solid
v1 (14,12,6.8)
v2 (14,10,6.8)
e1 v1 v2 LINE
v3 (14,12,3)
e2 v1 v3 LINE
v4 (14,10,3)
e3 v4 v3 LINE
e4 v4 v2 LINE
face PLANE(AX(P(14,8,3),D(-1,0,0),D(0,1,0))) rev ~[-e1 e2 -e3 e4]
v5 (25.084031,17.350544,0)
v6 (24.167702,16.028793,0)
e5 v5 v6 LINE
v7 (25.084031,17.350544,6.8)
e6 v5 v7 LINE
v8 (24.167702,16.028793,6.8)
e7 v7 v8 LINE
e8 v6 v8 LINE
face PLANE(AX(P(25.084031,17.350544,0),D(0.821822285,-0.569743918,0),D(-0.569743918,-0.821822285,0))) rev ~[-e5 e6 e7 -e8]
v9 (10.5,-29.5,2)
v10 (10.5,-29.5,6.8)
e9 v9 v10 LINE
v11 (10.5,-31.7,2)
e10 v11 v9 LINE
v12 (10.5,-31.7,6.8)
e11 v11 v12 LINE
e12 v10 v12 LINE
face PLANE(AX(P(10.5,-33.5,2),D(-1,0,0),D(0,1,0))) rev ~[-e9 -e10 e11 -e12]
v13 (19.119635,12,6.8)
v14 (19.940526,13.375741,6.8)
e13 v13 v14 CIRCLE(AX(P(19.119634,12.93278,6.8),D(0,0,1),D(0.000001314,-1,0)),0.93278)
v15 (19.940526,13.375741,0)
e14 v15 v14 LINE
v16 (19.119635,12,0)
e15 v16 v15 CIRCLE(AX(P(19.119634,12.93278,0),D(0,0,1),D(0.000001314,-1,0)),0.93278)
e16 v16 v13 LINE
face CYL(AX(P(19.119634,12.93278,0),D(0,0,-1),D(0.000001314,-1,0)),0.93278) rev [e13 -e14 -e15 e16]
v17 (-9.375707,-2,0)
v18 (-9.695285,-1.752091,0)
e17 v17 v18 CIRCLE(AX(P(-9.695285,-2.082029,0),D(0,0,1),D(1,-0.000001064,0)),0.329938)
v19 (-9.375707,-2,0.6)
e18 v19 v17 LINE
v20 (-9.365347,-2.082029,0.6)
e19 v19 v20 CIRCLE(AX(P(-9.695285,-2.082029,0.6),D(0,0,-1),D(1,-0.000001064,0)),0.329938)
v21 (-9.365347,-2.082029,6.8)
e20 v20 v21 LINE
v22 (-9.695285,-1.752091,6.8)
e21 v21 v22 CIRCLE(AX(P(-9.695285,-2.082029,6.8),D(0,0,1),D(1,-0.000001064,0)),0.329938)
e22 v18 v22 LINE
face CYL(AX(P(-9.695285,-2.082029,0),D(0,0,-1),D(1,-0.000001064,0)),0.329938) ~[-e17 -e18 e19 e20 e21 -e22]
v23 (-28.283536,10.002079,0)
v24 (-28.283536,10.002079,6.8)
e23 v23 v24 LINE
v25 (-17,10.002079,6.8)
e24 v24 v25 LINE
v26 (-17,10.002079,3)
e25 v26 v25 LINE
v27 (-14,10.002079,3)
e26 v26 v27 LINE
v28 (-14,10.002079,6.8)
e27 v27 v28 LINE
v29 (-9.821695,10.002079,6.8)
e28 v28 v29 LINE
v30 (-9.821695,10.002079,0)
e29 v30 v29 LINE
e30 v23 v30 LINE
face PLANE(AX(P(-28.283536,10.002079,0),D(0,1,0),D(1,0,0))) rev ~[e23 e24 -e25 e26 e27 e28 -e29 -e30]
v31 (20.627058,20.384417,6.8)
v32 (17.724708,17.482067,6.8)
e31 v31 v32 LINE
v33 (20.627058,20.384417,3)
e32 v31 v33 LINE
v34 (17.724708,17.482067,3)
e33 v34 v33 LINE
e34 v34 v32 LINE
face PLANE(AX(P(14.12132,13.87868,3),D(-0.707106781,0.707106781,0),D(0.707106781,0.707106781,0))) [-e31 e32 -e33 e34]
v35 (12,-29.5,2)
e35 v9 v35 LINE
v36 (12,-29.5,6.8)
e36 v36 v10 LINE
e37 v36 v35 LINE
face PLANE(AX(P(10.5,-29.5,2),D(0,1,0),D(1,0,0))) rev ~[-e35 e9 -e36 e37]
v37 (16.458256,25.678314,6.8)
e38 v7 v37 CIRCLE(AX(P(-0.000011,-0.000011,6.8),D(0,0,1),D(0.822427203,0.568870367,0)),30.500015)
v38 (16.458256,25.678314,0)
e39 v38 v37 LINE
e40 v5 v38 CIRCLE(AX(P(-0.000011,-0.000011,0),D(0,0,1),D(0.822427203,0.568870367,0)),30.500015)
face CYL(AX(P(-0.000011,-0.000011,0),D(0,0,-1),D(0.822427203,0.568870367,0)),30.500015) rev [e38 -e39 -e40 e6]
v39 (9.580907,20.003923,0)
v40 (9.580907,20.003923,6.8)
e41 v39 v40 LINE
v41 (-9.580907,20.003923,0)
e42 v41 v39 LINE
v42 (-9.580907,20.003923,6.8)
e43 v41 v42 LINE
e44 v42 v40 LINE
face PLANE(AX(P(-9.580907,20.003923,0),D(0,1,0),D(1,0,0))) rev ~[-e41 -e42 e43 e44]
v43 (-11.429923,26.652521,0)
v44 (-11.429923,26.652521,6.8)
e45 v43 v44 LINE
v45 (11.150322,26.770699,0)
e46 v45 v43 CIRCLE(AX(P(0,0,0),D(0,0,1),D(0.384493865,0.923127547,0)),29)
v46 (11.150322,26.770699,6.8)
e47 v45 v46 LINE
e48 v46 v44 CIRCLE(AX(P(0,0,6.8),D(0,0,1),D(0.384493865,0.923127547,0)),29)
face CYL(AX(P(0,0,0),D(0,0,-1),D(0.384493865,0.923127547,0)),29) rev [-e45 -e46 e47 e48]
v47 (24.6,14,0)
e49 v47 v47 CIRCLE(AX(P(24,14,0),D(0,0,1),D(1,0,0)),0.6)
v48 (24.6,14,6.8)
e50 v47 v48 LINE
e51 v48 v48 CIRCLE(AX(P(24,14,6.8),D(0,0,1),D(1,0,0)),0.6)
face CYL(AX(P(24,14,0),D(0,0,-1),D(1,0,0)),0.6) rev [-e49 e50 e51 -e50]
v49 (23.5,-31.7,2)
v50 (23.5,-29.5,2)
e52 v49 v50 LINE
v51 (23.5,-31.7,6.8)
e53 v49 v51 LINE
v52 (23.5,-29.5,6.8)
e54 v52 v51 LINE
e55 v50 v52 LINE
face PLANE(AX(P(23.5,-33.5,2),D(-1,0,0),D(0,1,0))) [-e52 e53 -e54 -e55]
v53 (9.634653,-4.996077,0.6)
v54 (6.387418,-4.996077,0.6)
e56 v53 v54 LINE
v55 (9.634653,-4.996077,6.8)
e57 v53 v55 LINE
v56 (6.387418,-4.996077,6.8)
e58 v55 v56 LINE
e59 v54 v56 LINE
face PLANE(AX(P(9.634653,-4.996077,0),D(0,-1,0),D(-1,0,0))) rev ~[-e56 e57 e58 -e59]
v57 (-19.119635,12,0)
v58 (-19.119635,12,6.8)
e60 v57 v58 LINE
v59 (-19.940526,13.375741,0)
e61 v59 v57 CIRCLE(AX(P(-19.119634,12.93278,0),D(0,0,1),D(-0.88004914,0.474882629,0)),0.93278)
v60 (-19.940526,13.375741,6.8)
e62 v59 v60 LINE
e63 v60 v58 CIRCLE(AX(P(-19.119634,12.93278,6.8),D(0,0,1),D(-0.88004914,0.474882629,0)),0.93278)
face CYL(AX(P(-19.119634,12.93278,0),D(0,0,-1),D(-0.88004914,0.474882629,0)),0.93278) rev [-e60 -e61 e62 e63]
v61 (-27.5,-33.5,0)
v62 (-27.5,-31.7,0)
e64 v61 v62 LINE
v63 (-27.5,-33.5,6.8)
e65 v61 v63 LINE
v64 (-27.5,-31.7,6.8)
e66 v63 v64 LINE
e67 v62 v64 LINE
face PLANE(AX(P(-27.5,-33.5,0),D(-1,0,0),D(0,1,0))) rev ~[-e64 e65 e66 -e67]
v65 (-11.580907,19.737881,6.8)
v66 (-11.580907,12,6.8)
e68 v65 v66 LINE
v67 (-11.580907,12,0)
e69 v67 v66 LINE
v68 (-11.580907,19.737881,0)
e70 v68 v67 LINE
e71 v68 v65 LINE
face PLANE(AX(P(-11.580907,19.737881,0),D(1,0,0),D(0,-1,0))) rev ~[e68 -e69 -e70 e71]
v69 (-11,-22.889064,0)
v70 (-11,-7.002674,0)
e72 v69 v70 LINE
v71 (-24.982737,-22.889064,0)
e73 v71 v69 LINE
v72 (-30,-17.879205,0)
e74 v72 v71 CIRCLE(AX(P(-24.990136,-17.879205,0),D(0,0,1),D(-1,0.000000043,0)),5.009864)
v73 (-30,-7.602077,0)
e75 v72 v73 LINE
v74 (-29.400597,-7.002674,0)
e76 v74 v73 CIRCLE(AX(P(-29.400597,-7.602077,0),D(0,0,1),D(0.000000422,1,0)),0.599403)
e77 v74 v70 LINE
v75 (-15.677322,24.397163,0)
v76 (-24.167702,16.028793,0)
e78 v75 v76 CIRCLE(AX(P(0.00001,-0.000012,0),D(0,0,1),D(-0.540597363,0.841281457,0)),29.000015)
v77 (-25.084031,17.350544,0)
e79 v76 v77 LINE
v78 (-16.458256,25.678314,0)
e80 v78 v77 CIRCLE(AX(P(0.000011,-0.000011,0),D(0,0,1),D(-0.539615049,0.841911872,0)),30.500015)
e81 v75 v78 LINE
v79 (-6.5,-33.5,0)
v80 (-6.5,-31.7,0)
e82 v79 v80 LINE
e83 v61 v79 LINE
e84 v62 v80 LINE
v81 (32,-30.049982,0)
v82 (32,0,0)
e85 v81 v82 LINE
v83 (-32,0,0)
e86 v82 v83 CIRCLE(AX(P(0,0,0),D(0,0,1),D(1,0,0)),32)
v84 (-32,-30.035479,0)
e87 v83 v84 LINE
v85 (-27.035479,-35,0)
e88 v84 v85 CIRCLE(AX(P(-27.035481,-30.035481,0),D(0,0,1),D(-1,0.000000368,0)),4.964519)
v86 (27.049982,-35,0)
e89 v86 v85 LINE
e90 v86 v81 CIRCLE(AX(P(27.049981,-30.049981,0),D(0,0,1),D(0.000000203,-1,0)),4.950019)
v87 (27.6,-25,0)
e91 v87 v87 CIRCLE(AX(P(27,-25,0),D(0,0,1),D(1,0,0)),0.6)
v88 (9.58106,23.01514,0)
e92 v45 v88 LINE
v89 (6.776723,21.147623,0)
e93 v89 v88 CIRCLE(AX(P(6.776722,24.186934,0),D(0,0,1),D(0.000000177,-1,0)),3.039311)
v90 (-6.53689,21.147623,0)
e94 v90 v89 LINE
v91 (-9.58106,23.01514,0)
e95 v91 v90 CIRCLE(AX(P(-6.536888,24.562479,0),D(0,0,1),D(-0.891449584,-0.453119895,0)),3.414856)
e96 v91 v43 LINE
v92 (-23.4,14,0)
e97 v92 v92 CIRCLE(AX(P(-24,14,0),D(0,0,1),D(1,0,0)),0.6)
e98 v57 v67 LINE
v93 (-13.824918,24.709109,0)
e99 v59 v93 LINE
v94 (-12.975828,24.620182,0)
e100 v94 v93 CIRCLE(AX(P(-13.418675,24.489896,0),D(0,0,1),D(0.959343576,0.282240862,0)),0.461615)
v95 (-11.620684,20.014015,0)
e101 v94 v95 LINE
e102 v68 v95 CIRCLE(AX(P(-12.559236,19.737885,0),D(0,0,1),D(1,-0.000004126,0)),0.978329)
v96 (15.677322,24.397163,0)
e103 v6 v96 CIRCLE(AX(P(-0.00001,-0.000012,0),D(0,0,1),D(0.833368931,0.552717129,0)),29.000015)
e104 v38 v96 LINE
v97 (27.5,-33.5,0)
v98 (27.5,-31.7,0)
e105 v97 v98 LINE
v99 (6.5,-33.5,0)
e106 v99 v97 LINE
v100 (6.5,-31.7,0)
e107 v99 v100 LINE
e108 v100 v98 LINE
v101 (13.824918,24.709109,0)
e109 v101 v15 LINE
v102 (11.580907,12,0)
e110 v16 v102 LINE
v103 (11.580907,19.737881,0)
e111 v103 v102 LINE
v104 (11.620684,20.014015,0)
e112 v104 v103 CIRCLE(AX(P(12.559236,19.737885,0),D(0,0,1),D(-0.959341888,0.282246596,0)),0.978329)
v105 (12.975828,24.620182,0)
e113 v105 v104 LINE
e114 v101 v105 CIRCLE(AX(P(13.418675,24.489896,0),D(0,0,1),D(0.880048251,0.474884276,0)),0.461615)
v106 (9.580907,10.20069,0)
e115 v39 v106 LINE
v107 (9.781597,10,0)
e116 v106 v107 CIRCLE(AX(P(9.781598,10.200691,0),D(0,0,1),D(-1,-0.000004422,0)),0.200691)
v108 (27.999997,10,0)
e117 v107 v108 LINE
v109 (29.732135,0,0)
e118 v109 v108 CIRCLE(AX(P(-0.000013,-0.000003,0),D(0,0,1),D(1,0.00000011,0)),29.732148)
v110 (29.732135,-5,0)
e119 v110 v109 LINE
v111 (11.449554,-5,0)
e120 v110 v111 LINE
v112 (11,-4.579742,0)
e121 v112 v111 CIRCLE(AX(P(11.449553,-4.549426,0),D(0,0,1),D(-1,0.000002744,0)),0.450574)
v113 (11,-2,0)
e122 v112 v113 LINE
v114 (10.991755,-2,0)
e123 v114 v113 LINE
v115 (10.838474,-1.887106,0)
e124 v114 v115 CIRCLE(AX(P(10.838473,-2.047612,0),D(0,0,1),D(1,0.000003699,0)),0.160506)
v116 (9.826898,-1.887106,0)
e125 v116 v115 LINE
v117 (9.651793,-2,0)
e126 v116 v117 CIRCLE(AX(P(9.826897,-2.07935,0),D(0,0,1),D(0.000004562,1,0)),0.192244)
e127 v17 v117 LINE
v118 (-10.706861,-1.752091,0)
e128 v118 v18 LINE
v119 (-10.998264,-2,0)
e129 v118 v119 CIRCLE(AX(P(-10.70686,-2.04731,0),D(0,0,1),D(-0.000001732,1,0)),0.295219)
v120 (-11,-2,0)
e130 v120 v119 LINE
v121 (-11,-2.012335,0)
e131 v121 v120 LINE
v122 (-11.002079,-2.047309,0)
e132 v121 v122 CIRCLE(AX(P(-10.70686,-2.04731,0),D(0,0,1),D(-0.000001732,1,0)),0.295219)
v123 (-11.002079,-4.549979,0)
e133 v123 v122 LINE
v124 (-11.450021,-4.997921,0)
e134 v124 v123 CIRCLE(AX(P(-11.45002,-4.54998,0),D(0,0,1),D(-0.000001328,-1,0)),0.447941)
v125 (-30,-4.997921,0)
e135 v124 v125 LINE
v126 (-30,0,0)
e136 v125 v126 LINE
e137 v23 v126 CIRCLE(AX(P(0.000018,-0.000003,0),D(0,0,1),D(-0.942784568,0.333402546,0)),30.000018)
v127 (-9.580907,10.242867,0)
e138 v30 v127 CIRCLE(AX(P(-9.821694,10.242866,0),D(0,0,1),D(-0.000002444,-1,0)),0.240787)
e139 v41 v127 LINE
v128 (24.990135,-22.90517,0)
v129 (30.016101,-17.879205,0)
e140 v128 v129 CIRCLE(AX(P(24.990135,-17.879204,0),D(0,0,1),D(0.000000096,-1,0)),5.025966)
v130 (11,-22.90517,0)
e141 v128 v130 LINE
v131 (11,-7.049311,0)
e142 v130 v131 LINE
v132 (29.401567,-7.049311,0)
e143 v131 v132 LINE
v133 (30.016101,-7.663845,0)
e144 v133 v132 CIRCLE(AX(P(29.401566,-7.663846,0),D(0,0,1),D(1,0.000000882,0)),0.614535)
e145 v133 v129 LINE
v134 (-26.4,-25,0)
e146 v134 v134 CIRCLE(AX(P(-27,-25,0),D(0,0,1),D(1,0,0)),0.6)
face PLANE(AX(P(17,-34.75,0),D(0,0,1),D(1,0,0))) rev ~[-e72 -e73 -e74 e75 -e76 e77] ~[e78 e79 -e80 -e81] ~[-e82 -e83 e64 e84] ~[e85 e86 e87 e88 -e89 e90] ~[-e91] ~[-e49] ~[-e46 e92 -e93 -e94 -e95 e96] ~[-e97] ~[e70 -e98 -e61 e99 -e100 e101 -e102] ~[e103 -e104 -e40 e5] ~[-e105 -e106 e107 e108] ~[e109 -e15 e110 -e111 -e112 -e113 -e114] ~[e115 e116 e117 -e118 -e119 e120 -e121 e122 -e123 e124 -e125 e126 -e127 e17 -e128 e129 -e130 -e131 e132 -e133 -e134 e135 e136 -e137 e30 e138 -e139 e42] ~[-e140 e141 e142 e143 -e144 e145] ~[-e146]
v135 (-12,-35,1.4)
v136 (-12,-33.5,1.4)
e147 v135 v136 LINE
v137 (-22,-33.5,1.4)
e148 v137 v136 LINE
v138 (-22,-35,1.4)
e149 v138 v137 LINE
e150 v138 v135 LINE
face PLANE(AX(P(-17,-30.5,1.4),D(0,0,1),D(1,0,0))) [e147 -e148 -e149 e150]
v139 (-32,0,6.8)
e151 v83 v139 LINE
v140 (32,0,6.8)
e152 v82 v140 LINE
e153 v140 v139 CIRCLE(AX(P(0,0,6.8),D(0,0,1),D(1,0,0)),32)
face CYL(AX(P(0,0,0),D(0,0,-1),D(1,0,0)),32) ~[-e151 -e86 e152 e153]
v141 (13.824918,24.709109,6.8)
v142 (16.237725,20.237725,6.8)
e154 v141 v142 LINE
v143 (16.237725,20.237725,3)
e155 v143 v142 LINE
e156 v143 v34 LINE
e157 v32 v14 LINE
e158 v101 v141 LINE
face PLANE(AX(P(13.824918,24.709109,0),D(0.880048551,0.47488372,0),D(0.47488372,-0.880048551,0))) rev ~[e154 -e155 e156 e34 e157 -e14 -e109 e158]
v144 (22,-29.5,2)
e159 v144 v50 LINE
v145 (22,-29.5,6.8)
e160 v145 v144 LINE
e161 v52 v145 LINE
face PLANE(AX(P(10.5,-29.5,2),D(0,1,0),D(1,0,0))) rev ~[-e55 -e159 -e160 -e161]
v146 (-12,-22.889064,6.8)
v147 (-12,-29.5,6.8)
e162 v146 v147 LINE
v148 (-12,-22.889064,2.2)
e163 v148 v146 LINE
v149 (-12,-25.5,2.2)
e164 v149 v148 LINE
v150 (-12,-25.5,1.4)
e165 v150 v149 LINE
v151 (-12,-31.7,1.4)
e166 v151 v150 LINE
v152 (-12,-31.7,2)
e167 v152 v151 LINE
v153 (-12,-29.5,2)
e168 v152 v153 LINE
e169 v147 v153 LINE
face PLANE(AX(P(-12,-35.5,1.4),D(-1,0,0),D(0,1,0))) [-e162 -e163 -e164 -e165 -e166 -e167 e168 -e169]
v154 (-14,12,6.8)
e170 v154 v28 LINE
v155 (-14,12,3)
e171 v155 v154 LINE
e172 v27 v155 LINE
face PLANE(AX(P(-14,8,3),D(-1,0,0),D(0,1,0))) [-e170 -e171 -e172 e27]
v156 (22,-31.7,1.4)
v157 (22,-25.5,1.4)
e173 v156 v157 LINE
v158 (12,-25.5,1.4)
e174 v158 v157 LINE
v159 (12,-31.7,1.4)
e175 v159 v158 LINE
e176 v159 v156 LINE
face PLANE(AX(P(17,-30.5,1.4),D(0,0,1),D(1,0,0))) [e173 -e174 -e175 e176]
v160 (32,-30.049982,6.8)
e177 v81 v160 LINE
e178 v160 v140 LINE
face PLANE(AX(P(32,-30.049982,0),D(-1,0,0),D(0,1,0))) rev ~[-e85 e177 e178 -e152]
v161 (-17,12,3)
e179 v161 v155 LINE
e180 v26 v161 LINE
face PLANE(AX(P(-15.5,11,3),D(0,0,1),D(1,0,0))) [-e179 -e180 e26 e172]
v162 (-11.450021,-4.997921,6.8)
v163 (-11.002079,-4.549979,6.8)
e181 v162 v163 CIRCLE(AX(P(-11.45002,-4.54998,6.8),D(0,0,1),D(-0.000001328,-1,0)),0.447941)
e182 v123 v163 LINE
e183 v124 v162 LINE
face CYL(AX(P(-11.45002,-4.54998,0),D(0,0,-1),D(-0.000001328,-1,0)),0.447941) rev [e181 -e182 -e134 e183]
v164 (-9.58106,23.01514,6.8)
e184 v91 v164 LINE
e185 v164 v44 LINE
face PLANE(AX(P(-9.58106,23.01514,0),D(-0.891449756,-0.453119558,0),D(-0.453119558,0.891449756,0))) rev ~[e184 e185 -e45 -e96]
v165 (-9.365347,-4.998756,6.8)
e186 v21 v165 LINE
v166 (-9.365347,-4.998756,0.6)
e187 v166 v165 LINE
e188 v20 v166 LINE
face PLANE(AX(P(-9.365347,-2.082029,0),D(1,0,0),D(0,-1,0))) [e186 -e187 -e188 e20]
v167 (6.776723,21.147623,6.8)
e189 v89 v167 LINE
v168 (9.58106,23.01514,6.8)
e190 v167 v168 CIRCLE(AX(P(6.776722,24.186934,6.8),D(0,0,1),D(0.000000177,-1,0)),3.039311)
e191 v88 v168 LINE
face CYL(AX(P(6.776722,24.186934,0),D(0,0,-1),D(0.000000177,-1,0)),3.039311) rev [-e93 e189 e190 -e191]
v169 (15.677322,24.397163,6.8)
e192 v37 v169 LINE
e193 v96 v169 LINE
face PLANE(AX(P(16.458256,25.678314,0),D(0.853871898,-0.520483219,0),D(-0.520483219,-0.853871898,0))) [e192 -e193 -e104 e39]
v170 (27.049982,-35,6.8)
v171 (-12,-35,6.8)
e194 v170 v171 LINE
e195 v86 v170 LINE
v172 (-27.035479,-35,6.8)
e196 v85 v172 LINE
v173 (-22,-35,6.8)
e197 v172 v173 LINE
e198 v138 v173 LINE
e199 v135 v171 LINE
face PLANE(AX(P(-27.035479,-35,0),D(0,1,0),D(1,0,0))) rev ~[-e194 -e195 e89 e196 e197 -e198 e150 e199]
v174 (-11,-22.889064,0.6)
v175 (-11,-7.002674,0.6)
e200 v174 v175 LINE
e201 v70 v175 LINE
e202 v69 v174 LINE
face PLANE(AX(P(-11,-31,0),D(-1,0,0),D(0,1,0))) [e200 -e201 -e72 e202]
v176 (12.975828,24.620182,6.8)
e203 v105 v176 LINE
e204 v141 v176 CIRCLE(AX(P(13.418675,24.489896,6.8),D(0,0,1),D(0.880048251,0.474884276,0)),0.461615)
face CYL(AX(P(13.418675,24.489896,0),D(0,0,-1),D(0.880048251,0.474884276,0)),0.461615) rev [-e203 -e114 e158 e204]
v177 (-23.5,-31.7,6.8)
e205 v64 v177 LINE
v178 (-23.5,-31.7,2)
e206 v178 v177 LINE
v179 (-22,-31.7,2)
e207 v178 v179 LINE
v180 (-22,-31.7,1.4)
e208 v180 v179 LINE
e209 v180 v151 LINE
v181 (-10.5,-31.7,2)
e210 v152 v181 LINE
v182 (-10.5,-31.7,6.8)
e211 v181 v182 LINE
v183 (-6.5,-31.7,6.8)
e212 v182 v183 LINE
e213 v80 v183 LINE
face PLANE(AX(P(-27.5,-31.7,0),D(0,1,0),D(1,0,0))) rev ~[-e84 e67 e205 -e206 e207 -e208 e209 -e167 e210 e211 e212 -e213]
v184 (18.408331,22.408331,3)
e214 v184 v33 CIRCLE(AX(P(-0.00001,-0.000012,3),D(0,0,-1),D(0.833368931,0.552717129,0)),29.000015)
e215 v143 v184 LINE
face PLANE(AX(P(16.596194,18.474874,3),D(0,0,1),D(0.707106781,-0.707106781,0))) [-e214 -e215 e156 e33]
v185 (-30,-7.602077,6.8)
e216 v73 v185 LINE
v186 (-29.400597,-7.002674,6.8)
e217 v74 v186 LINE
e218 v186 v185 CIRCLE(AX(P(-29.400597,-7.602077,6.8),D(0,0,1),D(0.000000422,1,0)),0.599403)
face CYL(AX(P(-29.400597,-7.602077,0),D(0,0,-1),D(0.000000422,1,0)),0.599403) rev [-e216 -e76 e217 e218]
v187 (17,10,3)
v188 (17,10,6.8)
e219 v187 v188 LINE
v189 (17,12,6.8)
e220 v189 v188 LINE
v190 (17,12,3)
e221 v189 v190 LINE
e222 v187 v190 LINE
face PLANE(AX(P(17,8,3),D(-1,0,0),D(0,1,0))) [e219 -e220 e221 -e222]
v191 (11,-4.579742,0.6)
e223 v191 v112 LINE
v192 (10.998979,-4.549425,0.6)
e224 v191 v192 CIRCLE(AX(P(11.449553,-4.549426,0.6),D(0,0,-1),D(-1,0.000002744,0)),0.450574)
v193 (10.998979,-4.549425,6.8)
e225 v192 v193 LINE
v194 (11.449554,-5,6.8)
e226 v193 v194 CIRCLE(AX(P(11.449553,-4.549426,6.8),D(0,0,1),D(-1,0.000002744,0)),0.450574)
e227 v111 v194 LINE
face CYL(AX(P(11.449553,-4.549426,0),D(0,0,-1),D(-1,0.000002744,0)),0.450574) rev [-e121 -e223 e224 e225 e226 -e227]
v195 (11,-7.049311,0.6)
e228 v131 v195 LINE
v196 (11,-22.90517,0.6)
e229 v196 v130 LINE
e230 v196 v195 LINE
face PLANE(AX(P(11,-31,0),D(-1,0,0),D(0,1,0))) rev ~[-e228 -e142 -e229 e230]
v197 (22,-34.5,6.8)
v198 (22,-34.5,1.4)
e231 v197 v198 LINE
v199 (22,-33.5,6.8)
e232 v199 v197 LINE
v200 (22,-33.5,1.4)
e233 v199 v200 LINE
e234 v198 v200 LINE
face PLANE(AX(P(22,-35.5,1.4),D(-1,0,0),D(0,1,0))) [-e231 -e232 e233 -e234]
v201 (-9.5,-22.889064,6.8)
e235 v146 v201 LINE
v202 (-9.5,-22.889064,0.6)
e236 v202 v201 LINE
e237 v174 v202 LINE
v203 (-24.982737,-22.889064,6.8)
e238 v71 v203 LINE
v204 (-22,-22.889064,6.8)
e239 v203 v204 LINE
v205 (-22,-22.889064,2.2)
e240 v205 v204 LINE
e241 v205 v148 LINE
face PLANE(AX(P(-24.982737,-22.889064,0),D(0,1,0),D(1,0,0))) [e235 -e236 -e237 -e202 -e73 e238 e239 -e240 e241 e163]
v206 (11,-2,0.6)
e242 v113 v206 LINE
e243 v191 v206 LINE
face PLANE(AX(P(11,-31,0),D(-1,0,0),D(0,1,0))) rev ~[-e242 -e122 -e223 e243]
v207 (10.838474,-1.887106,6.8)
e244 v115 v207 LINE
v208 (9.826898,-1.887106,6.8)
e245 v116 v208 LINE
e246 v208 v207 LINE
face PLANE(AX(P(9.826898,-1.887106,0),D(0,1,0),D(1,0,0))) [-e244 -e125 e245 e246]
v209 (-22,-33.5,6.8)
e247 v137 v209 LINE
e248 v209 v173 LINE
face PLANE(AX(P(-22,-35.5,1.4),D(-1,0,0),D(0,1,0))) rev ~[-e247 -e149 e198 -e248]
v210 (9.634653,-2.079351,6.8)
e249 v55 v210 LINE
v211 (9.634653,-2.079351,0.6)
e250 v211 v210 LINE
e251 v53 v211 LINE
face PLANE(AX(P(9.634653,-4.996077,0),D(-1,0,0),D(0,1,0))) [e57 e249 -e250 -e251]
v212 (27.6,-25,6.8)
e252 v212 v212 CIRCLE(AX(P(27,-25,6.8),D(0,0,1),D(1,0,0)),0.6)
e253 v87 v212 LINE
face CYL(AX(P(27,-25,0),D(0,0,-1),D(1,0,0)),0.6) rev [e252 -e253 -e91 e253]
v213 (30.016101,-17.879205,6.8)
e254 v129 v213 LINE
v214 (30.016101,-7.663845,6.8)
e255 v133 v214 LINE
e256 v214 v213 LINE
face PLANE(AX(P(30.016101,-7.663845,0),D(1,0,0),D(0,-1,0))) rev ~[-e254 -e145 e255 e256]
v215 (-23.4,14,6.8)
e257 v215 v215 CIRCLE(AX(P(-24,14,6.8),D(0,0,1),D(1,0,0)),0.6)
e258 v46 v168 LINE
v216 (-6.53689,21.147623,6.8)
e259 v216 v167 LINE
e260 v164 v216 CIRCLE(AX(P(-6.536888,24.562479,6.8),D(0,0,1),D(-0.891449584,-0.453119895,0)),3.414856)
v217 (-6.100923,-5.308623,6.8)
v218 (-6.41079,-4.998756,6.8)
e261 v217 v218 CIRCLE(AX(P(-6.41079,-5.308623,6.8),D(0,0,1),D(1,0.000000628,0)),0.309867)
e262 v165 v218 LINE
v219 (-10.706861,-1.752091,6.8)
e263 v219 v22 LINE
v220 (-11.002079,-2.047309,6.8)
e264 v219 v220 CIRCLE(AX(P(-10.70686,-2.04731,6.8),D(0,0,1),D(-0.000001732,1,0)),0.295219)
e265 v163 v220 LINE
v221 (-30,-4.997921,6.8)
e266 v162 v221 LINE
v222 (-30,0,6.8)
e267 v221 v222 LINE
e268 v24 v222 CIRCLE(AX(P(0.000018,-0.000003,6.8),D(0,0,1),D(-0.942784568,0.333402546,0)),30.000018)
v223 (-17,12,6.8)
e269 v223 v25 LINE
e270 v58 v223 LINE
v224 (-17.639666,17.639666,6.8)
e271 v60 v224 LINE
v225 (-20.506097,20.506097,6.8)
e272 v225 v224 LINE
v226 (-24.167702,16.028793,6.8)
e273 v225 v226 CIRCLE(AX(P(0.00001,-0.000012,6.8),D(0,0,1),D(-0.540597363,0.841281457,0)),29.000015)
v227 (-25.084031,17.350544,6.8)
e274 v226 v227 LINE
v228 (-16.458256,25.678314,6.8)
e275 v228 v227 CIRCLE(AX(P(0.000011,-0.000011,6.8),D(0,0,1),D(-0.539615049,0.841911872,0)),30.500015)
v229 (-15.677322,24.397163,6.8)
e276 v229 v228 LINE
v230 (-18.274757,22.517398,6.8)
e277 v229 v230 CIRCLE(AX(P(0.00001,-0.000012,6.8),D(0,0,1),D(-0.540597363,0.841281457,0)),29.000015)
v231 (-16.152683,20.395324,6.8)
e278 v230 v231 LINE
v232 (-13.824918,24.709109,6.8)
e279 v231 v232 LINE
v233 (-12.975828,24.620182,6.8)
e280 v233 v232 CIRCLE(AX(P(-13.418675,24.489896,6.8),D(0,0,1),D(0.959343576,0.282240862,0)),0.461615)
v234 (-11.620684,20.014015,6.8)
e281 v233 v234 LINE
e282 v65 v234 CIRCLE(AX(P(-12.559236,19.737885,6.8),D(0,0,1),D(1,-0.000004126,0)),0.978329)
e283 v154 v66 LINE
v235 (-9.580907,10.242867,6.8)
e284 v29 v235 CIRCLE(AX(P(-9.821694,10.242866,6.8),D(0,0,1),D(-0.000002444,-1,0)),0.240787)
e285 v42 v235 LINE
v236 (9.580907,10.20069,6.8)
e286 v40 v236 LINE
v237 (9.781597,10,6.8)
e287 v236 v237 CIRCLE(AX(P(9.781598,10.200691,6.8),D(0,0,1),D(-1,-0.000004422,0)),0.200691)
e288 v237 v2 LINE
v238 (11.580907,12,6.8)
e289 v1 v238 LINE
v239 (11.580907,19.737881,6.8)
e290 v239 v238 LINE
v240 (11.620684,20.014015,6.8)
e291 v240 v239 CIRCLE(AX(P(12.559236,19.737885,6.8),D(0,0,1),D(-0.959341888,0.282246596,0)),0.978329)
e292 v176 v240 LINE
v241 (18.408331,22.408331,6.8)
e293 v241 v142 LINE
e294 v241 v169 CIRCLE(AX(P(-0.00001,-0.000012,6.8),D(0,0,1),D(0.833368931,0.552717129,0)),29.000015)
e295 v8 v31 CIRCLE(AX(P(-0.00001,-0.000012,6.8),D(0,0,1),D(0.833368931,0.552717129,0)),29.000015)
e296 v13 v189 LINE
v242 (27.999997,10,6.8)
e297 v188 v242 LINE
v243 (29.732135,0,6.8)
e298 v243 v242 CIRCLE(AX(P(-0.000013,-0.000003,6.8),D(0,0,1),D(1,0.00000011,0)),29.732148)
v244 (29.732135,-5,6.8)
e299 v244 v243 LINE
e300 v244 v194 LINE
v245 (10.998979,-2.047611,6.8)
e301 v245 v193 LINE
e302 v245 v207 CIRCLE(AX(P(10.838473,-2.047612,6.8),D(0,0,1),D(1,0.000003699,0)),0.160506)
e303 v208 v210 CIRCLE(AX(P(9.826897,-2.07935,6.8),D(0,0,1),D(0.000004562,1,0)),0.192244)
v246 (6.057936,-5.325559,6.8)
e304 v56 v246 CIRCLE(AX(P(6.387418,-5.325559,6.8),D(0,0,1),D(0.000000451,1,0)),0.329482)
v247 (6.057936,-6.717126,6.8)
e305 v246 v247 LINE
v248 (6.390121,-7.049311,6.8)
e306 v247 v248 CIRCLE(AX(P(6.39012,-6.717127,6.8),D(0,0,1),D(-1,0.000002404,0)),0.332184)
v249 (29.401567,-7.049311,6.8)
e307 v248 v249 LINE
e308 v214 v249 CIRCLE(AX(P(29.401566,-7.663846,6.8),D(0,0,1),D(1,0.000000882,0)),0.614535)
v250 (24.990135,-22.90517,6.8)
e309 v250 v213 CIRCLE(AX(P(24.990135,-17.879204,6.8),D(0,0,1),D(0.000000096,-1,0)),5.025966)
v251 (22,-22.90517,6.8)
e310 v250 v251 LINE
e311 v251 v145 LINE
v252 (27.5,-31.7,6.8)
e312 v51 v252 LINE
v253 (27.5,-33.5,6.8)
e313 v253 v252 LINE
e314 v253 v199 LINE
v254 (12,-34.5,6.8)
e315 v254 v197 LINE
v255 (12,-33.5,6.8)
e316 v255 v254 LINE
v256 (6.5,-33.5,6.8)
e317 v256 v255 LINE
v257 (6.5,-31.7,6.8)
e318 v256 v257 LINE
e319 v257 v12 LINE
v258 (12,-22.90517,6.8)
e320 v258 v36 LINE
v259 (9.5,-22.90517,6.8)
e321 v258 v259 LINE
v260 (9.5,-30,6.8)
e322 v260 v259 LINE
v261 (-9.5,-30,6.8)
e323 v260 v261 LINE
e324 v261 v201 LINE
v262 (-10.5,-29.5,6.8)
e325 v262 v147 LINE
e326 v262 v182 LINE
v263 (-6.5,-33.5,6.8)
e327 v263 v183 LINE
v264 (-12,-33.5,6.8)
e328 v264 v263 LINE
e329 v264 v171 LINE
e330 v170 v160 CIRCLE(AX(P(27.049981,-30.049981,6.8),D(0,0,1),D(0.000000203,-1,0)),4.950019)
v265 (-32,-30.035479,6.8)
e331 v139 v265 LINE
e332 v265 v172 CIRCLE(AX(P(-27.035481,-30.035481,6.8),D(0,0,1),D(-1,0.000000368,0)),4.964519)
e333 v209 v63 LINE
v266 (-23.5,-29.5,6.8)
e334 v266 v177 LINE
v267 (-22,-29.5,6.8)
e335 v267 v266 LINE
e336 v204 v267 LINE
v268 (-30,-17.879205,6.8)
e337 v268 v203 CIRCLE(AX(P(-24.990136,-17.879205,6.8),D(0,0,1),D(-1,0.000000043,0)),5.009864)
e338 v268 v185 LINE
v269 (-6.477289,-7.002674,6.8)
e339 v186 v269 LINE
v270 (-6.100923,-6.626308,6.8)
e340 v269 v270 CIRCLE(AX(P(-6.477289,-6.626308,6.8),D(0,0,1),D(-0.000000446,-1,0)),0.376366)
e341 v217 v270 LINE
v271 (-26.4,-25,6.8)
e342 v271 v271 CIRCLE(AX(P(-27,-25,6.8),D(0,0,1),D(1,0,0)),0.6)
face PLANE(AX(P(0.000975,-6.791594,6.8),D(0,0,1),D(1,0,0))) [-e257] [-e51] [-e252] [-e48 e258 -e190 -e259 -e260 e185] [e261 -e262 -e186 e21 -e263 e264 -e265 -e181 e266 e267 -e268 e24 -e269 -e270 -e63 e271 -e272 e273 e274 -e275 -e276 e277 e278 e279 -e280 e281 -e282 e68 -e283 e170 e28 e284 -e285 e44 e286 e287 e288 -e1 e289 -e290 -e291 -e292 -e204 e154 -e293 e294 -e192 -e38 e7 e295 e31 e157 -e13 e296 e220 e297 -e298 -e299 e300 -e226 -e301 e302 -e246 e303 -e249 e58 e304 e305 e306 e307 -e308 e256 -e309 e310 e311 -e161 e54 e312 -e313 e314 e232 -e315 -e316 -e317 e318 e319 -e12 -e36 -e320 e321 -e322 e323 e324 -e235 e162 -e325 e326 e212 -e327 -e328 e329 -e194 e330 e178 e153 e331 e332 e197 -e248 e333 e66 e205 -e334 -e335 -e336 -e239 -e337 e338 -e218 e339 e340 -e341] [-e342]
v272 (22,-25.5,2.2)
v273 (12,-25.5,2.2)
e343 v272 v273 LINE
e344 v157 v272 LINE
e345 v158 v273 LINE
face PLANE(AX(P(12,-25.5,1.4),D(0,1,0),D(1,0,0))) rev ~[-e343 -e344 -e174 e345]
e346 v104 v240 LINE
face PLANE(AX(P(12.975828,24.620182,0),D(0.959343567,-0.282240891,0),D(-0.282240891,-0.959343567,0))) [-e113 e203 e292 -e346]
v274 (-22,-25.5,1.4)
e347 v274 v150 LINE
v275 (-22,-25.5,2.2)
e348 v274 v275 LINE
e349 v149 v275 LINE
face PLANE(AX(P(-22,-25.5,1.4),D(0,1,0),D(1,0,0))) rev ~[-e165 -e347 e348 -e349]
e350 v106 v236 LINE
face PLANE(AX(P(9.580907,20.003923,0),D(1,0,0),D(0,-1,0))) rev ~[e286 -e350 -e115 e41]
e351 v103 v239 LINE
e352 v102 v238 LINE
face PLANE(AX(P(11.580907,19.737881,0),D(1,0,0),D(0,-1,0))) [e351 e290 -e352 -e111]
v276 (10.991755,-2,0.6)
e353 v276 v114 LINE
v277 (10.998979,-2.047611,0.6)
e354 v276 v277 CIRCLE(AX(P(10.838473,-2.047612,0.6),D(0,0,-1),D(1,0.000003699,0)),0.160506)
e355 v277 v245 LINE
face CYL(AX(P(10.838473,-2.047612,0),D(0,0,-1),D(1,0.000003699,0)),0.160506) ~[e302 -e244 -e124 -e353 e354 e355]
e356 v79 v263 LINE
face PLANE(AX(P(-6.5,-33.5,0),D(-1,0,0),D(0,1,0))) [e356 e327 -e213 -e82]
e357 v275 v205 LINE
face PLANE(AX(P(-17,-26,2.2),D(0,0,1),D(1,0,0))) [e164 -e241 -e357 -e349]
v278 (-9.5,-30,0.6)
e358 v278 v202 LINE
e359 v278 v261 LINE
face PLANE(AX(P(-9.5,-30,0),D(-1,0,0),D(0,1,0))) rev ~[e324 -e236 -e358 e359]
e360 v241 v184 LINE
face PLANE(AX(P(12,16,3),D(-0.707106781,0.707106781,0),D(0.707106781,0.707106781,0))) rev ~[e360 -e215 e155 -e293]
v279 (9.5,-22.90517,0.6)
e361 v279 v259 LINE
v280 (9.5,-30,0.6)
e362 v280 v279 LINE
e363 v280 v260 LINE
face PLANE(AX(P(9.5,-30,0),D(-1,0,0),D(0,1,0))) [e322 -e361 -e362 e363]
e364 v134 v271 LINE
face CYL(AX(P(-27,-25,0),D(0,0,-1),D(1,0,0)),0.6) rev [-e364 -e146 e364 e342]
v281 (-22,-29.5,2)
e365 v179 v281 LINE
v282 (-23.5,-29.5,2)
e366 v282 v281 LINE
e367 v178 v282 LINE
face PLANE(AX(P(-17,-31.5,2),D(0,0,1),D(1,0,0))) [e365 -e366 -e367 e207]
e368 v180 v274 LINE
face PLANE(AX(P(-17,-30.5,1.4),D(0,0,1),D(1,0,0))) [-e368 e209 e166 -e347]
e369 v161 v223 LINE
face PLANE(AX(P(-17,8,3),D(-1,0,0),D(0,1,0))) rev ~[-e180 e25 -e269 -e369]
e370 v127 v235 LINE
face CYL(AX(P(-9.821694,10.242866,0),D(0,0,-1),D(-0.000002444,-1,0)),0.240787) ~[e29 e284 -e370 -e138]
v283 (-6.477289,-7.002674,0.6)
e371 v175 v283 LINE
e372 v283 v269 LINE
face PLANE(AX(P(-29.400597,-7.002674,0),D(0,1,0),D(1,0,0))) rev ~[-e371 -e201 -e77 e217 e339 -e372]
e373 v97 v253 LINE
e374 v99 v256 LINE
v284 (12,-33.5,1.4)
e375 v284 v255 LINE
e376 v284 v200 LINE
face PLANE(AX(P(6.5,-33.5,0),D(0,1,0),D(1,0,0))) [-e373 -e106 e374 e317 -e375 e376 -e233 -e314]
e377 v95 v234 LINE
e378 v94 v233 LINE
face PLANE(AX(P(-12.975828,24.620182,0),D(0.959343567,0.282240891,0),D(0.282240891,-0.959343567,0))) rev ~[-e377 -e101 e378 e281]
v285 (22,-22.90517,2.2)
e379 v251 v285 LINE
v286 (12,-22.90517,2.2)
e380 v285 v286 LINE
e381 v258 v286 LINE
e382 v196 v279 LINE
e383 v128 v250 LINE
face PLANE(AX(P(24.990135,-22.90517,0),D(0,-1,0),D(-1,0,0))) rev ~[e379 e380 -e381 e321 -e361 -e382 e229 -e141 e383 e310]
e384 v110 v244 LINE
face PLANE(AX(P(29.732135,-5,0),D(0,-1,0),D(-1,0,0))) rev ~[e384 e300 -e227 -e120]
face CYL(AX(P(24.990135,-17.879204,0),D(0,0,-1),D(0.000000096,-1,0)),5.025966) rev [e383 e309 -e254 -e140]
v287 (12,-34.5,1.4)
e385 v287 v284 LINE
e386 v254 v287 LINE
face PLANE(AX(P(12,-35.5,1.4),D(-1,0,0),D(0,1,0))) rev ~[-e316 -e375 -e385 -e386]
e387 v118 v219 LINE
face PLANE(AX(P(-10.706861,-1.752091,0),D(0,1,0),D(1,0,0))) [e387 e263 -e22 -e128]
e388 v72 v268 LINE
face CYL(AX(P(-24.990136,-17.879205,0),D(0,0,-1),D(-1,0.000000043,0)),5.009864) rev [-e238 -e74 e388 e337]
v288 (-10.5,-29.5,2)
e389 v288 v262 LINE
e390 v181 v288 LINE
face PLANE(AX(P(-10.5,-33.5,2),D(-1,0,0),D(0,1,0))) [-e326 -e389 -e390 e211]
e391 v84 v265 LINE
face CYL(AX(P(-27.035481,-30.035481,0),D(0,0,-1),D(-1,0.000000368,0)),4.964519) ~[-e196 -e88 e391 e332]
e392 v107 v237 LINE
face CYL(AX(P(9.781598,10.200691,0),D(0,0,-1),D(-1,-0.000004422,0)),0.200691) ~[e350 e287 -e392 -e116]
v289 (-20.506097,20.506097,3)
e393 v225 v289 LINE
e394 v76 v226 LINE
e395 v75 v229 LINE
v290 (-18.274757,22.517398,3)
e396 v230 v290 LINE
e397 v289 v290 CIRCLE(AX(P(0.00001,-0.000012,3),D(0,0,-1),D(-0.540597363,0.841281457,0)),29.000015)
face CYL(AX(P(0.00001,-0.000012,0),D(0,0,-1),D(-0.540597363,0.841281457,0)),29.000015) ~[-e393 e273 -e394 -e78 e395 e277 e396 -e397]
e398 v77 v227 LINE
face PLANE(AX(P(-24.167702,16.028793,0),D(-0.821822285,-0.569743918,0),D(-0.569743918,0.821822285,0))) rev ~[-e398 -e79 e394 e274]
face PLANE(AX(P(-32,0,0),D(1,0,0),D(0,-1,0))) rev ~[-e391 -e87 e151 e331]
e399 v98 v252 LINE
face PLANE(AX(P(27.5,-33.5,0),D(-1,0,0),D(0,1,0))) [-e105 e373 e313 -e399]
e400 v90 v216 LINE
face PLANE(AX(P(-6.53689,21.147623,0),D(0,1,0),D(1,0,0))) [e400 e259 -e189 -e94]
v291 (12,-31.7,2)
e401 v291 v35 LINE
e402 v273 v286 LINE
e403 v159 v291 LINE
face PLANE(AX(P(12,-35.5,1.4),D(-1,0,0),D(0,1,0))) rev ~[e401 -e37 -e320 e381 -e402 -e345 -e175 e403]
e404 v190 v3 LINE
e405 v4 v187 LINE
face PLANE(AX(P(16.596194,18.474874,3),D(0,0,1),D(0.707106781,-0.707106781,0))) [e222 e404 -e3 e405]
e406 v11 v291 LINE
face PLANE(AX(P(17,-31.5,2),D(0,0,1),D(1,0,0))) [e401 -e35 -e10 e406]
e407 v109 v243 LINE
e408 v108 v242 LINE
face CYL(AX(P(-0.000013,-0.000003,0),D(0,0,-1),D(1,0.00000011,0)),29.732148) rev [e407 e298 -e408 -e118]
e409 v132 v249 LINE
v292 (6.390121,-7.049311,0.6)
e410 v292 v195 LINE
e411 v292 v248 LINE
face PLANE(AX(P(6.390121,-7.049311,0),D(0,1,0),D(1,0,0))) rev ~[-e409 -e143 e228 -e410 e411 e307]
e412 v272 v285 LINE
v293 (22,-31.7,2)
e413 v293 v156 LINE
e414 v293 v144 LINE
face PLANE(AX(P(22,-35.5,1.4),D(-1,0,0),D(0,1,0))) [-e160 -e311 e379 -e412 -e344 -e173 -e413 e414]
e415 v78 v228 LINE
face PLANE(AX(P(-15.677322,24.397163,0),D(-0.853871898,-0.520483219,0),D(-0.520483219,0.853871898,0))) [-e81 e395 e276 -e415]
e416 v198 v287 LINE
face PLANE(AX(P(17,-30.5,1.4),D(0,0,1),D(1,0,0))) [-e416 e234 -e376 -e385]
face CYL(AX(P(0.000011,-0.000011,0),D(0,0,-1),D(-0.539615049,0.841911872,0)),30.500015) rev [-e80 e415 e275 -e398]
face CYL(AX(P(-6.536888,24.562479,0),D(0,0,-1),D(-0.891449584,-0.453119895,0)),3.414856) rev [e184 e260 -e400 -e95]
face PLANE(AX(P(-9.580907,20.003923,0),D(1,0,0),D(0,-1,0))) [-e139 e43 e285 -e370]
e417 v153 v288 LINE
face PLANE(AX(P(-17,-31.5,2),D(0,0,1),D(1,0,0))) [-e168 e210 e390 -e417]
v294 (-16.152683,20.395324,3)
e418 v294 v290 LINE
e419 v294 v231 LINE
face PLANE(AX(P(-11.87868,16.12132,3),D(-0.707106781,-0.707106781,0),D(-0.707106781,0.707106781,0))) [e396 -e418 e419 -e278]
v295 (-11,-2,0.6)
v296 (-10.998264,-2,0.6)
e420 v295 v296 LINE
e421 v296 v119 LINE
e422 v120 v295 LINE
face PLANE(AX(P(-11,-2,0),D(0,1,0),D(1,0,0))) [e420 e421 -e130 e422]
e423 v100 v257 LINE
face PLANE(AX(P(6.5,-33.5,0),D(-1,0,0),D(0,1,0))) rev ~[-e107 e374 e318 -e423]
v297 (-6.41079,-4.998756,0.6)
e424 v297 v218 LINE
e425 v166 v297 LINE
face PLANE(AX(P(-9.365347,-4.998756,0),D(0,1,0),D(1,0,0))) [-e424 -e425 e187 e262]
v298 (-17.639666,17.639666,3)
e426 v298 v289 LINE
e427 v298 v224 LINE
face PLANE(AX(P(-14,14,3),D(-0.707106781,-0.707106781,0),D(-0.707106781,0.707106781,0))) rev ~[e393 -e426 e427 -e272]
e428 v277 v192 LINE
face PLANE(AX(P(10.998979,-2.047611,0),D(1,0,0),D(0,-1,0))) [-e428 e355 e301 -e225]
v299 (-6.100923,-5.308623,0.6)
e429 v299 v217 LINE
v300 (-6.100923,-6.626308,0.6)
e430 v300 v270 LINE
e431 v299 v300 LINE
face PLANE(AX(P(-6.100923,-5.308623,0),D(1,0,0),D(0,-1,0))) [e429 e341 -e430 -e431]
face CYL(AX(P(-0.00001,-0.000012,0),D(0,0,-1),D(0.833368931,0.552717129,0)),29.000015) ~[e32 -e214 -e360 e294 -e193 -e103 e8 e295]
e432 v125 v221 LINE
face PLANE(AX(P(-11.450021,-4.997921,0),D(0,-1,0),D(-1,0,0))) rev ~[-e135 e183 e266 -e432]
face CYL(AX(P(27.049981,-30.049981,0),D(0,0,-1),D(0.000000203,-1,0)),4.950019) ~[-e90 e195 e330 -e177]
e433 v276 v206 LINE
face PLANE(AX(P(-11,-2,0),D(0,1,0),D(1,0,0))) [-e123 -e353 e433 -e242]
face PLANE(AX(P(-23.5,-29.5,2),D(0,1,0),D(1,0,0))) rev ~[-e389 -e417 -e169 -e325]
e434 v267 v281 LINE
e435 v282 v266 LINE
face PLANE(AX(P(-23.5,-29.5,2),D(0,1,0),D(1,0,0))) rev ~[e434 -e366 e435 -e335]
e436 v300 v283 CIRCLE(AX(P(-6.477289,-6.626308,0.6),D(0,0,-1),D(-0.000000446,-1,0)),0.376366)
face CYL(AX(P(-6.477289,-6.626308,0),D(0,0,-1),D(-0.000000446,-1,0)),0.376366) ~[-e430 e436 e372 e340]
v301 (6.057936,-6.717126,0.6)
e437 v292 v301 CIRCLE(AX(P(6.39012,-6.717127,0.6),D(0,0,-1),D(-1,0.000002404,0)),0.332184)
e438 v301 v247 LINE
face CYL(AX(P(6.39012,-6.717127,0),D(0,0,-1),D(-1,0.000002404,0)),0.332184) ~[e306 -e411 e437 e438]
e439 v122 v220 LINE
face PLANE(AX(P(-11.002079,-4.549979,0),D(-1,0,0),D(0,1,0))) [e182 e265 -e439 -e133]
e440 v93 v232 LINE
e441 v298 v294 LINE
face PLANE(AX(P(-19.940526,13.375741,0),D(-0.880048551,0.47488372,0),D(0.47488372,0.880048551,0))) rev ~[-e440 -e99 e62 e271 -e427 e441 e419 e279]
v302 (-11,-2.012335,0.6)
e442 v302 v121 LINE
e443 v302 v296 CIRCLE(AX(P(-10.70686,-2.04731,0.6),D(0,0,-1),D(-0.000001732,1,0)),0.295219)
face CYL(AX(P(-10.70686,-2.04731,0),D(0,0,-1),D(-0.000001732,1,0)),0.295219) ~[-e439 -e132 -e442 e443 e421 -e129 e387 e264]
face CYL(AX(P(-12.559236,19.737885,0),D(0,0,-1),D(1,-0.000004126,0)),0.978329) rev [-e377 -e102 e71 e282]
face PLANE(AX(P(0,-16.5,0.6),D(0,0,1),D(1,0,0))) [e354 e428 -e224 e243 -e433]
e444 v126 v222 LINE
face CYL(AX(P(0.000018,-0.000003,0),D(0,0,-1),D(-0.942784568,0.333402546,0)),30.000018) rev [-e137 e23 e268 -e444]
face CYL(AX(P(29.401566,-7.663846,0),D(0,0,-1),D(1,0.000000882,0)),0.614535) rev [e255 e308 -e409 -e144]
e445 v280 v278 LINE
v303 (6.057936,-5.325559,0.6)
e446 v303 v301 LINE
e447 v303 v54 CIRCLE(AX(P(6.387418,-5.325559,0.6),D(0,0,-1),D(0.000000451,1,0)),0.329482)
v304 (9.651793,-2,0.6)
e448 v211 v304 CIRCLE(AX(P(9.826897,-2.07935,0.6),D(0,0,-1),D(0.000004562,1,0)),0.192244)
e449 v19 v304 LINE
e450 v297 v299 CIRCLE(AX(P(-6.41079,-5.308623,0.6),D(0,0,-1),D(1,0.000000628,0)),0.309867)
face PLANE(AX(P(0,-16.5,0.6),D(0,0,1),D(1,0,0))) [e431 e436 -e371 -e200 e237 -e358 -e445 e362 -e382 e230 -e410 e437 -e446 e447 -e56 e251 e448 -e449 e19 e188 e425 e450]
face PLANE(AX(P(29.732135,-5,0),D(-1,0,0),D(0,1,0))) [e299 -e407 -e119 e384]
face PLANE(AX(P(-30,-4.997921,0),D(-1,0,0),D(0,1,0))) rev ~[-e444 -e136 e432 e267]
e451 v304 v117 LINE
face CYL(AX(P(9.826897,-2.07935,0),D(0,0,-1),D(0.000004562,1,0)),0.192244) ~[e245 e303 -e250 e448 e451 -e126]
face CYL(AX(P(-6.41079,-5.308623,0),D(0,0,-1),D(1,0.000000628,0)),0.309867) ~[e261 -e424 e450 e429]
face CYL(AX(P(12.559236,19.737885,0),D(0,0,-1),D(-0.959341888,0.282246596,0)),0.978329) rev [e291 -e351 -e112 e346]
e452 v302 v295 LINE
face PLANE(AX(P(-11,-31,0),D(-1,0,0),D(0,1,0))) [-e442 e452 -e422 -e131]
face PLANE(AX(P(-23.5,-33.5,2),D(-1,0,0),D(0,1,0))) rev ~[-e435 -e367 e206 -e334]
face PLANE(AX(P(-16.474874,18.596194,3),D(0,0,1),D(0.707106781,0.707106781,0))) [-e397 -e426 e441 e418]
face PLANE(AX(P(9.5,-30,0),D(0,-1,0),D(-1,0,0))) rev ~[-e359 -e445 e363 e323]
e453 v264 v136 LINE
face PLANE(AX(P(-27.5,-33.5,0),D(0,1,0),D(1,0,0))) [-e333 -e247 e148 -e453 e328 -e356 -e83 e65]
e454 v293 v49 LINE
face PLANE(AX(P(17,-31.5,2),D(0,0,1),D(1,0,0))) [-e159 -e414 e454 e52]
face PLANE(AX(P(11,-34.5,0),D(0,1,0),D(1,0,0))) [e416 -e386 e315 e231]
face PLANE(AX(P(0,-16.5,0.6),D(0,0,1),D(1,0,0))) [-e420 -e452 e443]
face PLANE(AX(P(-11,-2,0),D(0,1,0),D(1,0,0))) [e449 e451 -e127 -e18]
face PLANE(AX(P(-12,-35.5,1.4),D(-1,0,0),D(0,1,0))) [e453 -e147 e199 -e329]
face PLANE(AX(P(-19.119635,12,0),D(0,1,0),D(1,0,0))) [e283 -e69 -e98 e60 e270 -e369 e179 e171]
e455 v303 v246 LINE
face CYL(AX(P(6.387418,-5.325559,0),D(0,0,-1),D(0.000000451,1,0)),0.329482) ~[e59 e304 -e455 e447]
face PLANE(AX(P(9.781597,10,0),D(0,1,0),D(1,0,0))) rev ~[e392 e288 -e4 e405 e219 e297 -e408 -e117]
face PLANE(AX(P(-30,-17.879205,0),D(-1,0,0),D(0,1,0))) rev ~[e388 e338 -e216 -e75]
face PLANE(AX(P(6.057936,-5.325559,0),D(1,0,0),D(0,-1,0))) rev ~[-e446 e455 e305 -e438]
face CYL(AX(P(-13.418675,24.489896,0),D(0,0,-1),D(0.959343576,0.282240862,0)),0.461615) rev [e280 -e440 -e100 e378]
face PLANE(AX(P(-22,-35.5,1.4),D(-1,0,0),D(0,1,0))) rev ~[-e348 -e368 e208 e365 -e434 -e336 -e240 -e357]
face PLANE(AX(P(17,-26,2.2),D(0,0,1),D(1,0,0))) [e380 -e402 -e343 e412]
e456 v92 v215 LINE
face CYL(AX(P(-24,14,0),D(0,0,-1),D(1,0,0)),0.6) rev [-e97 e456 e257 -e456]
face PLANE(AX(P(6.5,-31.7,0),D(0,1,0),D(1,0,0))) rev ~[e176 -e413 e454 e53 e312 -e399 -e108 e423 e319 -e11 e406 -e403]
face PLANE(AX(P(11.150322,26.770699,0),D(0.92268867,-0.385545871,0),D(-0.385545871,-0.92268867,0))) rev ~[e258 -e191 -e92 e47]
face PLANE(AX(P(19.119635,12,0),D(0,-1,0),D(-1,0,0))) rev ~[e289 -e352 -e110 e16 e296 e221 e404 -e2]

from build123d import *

# Parameters (mm, degrees)
BOX007_W               = 3
BOX007_H               = 6
BOX007_DEPTH           = 5
BOX008_W               = 3
BOX008_H               = 10
BOX008_DEPTH           = 10
BOX008_PLACEMENT_ANGLE = 45
BOX009_W               = 3
BOX009_H               = 10
BOX009_DEPTH           = 10
BOX009_PLACEMENT_ANGLE = 45
BOX006_W               = 3
BOX006_H               = 6
BOX006_DEPTH           = 5
BOX005_W               = 12
BOX005_H               = 0.5
BOX005_DEPTH           = 6.8
BOX004_W               = 22
BOX004_H               = 29
BOX004_DEPTH           = 0.6
BOX001_W               = 10
BOX001_H               = 15
BOX001_DEPTH           = 6
BOX002_W               = 10
BOX002_H               = 10
BOX002_DEPTH           = 6
BOX003_W               = 13
BOX003_H               = 4
BOX003_DEPTH           = 6
BOX_W                  = 21
BOX_H                  = 1.8
BOX_DEPTH              = 6.8
ARRAY_X_COUNT          = 2
ARRAY_X_PITCH          = 34
SKETCH001_R            = 0.6
EXTRUDE_DEPTH          = 6.8


with BuildPart() as wire02:
    # Box007 → Box007 (new body)
    with BuildSketch(Plane(origin=(14, 8, 3), x_dir=(1, 0, 0), z_dir=(0, 0, 1))):
        with Locations((1.5, 3)):
            Rectangle(BOX007_W, BOX007_H)
    extrude(amount=BOX007_DEPTH)


with BuildPart() as wire11:
    # Box008 → Box008 (new body)
    with BuildSketch(Plane.XY):
        with Locations((1.5, 5)):
            Rectangle(BOX008_W, BOX008_H)
    extrude(amount=BOX008_DEPTH)


with BuildPart() as wire11_1:
    # Box008 placement: moved
    add(wire11.part.moved(Location((-14, 14, 3))).rotate(Axis((-14, 14, 3), (0, 0, 1)), BOX008_PLACEMENT_ANGLE))


with BuildPart() as wire12:
    # Box009 → Box009 (new body)
    with BuildSketch(Plane.XY):
        with Locations((1.5, 5)):
            Rectangle(BOX009_W, BOX009_H)
    extrude(amount=BOX009_DEPTH)


with BuildPart() as wire12_1:
    # Box009 placement: moved
    add(wire12.part.moved(Location((12, 16, 3))).rotate(Axis((12, 16, 3), (0, 0, -1)), BOX009_PLACEMENT_ANGLE))


with BuildPart() as wires:
    # Box006 → Box006 (new body)
    with BuildSketch(Plane(origin=(-17, 8, 3), x_dir=(1, 0, 0), z_dir=(0, 0, 1))):
        with Locations((1.5, 3)):
            Rectangle(BOX006_W, BOX006_H)
    extrude(amount=BOX006_DEPTH)

    # Fusion004: union wire02, wire11, wire12
    add(wire02.part)
    add(wire11_1.part)
    add(wire12_1.part)


with BuildPart() as box005:
    # Box005 → Box005 (new body)
    with BuildSketch(Plane(origin=(11, -35, 0), x_dir=(1, 0, 0), z_dir=(0, 0, 1))):
        with Locations((6, 0.25)):
            Rectangle(BOX005_W, BOX005_H)
    extrude(amount=BOX005_DEPTH)


with BuildPart() as box004:
    # Box004 → Box004 (new body)
    with BuildSketch(Plane(origin=(-11, -31, 0), x_dir=(1, 0, 0), z_dir=(0, 0, 1))):
        with Locations((11, 14.5)):
            Rectangle(BOX004_W, BOX004_H)
    extrude(amount=BOX004_DEPTH)


with BuildPart() as sch001:
    # Box001 → Box001 (new body)
    with BuildSketch(Plane(origin=(-5, 0, 2.2), x_dir=(1, 0, 0), z_dir=(0, 0, 1))):
        with Locations((5, 7.5)):
            Rectangle(BOX001_W, BOX001_H)
    extrude(amount=BOX001_DEPTH)


with BuildPart() as pin:
    # Box002 → Box002 (new body)
    with BuildSketch(Plane(origin=(-5, -2, 1.4), x_dir=(1, 0, 0), z_dir=(0, 0, 1))):
        with Locations((5, 5)):
            Rectangle(BOX002_W, BOX002_H)
    extrude(amount=BOX002_DEPTH)


with BuildPart() as solder:
    # Box003 → Box003 (new body)
    with BuildSketch(Plane(origin=(-6.5, 0, 2), x_dir=(1, 0, 0), z_dir=(0, 0, 1))):
        with Locations((6.5, 2)):
            Rectangle(BOX003_W, BOX003_H)
    extrude(amount=BOX003_DEPTH)


with BuildPart() as array:
    # Box → Box (new body)
    with BuildSketch(Plane(origin=(-10.5, 0, 0), x_dir=(1, 0, 0), z_dir=(0, 0, 1))):
        with Locations((10.5, 0.9)):
            Rectangle(BOX_W, BOX_H)
    extrude(amount=BOX_DEPTH)

    # Fusion: union sch001, pin, solder
    add(sch001.part)
    add(pin.part)
    add(solder.part)


with BuildPart() as array_1:
    # Fusion placement: moved
    add(array.part.moved(Location((-17, -33.5, 0))))

    # Array X: Array ×2


with BuildPart() as array_2:
    add(array_1.part)
    with Locations(*[(i * ARRAY_X_PITCH, 0, 0) for i in range(1, ARRAY_X_COUNT)]):
        add(array_1.part)


with BuildPart() as cut001:
    # Sketch001 → Extrude (new body)
    with BuildSketch(Plane.XY):
        with BuildLine():
            ThreePointArc((32, 0), (0, 32), (-32, 0))
            Line((-32, 0), (-32, -30.035479))
            ThreePointArc((-32, -30.035479), (-30.545926, -33.545926), (-27.035479, -35))
            Line((-27.035479, -35), (27.049982, -35))
            ThreePointArc((27.049982, -35), (30.550173, -33.550173), (32, -30.049982))
            Line((32, -30.049982), (32, 0))
        make_face()
        with Locations((-27, -25)):
            Circle(SKETCH001_R, mode=Mode.SUBTRACT)
        with Locations((27, -25)):
            Circle(SKETCH001_R, mode=Mode.SUBTRACT)
        with Locations((-24, 14)):
            Circle(SKETCH001_R, mode=Mode.SUBTRACT)
        with Locations((24, 14)):
            Circle(SKETCH001_R, mode=Mode.SUBTRACT)
        with BuildLine():
            Line((-28.283536, 10.002079), (-11.283536, 10.002079))
            Line((-9.821695, 10.002079), (-11.283536, 10.002079))
            ThreePointArc((-9.821695, 10.002079), (-9.651432, 10.072604), (-9.580907, 10.242867))
            Line((-9.580907, 20.003923), (-9.580907, 10.242867))
            Line((-9.580907, 20.003923), (9.580907, 20.003923))
            Line((9.580907, 20.003923), (9.580907, 10.20069))
            ThreePointArc((9.580907, 10.20069), (9.639688, 10.058781), (9.781597, 10))
            Line((9.781597, 10), (10.999997, 10))
            Line((10.999997, 10), (27.999997, 10))
            ThreePointArc((29.732135, 0), (29.2959, 5.074453), (27.999997, 10))
            Line((29.732135, -5), (29.732135, 0))
            Line((29.732135, -5), (11.449554, -5))
            ThreePointArc((10.998979, -4.549425), (11.130949, -4.86803), (11.449554, -5))
            Line((10.998979, -2.047611), (10.998979, -4.549425))
            ThreePointArc((10.998979, -2.047611), (10.951968, -1.934117), (10.838474, -1.887106))
            Line((9.826898, -1.887106), (10.838474, -1.887106))
            ThreePointArc((9.826898, -1.887106), (9.69096, -1.943413), (9.634653, -2.079351))
            Line((9.634653, -4.996077), (9.634653, -2.079351))
            Line((9.634653, -4.996077), (6.387418, -4.996077))
            ThreePointArc((6.387418, -4.996077), (6.154439, -5.09258), (6.057936, -5.325559))
            Line((6.057936, -5.325559), (6.057936, -6.717126))
            ThreePointArc((6.057936, -6.717126), (6.15523, -6.952016), (6.390121, -7.049311))
            Line((6.390121, -7.049311), (29.401567, -7.049311))
            ThreePointArc((30.016101, -7.663845), (29.836108, -7.229304), (29.401567, -7.049311))
            Line((30.016101, -7.663845), (30.016101, -11.257143))
            Line((30.016101, -17.879205), (30.016101, -11.257143))
            ThreePointArc((24.990135, -22.90517), (28.544029, -21.433099), (30.016101, -17.879205))
            Line((24.990135, -22.90517), (9.5, -22.90517))
            Line((9.5, -30), (9.5, -22.90517))
            Line((9.5, -30), (-9.5, -30))
            Line((-9.5, -30), (-9.5, -22.889064))
            Line((-24.982737, -22.889064), (-9.5, -22.889064))
            ThreePointArc((-30, -17.879205), (-28.530028, -21.424329), (-24.982737, -22.889064))
            Line((-30, -11.257325), (-30, -17.879205))
            Line((-30, -11.257325), (-30, -7.602077))
            ThreePointArc((-29.400597, -7.002674), (-29.824439, -7.178235), (-30, -7.602077))
            Line((-29.400597, -7.002674), (-6.477289, -7.002674))
            ThreePointArc((-6.477289, -7.002674), (-6.211158, -6.892439), (-6.100923, -6.626308))
            Line((-6.100923, -5.308623), (-6.100923, -6.626308))
            ThreePointArc((-6.100923, -5.308623), (-6.191681, -5.089514), (-6.41079, -4.998756))
            Line((-9.365347, -4.998756), (-6.41079, -4.998756))
            Line((-9.365347, -2.082029), (-9.365347, -4.998756))
            ThreePointArc((-9.365347, -2.082029), (-9.461983, -1.848728), (-9.695285, -1.752091))
            Line((-10.706861, -1.752091), (-9.695285, -1.752091))
            ThreePointArc((-10.706861, -1.752091), (-10.915611, -1.838558), (-11.002079, -2.047309))
            Line((-11.002079, -4.549979), (-11.002079, -2.047309))
            ThreePointArc((-11.450021, -4.997921), (-11.133278, -4.866722), (-11.002079, -4.549979))
            Line((-11.450021, -4.997921), (-30, -4.997921))
            Line((-30, -4.997921), (-30, 0))
            ThreePointArc((-28.283536, 10.002079), (-29.56777, 5.074146), (-30, 0))
        make_face(mode=Mode.SUBTRACT)
        with BuildLine():
            ThreePointArc((11.150322, 26.770699), (-0.151775, 28.999603), (-11.429923, 26.652521))
            Line((-9.58106, 23.01514), (-11.429923, 26.652521))
            ThreePointArc((-9.58106, 23.01514), (-8.322568, 21.651708), (-6.53689, 21.147623))
            Line((-6.53689, 21.147623), (6.776723, 21.147623))
            ThreePointArc((6.776723, 21.147623), (8.461354, 21.657225), (9.58106, 23.01514))
            Line((11.150322, 26.770699), (9.58106, 23.01514))
        make_face(mode=Mode.SUBTRACT)
        with BuildLine():
            ThreePointArc((-16.458256, 25.678314), (-21.184389, 21.942462), (-25.084031, 17.350544))
            Line((-24.167702, 16.028793), (-25.084031, 17.350544))
            ThreePointArc((-15.677322, 24.397163), (-20.357158, 20.653961), (-24.167702, 16.028793))
            Line((-15.677322, 24.397163), (-16.458256, 25.678314))
        make_face(mode=Mode.SUBTRACT)
        with BuildLine():
            ThreePointArc((25.084031, 17.350544), (21.184389, 21.942462), (16.458256, 25.678314))
            Line((16.458256, 25.678314), (15.677322, 24.397163))
            ThreePointArc((24.167702, 16.028793), (20.357158, 20.653961), (15.677322, 24.397163))
            Line((25.084031, 17.350544), (24.167702, 16.028793))
        make_face(mode=Mode.SUBTRACT)
        with BuildLine():
            Line((-11.580907, 19.737881), (-11.580907, 12))
            Line((-19.119635, 12), (-11.580907, 12))
            ThreePointArc((-19.940526, 13.375741), (-19.920653, 12.454819), (-19.119635, 12))
            Line((-19.940526, 13.375741), (-13.824918, 24.709109))
            ThreePointArc((-12.975828, 24.620182), (-13.370592, 24.948999), (-13.824918, 24.709109))
            Line((-12.975828, 24.620182), (-11.620684, 20.014015))
            ThreePointArc((-11.580907, 19.737881), (-11.590902, 19.877373), (-11.620684, 20.014015))
        make_face(mode=Mode.SUBTRACT)
        with BuildLine():
            Line((12.975828, 24.620182), (11.620684, 20.014015))
            ThreePointArc((11.620684, 20.014015), (11.590902, 19.877373), (11.580907, 19.737881))
            Line((11.580907, 19.737881), (11.580907, 12))
            Line((19.119635, 12), (11.580907, 12))
            ThreePointArc((19.119635, 12), (19.920653, 12.454819), (19.940526, 13.375741))
            Line((13.824918, 24.709109), (19.940526, 13.375741))
            ThreePointArc((13.824918, 24.709109), (13.370592, 24.948999), (12.975828, 24.620182))
        make_face(mode=Mode.SUBTRACT)
    extrude(amount=EXTRUDE_DEPTH)

    # Cut: cut Array
    add(array_2.part, mode=Mode.SUBTRACT)

    # Fusion001: union Box004
    add(box004.part)

    # Fusion003: union Box005
    add(box005.part)

    # Cut001: cut wires
    add(wires.part, mode=Mode.SUBTRACT)


solid = cut001.part
